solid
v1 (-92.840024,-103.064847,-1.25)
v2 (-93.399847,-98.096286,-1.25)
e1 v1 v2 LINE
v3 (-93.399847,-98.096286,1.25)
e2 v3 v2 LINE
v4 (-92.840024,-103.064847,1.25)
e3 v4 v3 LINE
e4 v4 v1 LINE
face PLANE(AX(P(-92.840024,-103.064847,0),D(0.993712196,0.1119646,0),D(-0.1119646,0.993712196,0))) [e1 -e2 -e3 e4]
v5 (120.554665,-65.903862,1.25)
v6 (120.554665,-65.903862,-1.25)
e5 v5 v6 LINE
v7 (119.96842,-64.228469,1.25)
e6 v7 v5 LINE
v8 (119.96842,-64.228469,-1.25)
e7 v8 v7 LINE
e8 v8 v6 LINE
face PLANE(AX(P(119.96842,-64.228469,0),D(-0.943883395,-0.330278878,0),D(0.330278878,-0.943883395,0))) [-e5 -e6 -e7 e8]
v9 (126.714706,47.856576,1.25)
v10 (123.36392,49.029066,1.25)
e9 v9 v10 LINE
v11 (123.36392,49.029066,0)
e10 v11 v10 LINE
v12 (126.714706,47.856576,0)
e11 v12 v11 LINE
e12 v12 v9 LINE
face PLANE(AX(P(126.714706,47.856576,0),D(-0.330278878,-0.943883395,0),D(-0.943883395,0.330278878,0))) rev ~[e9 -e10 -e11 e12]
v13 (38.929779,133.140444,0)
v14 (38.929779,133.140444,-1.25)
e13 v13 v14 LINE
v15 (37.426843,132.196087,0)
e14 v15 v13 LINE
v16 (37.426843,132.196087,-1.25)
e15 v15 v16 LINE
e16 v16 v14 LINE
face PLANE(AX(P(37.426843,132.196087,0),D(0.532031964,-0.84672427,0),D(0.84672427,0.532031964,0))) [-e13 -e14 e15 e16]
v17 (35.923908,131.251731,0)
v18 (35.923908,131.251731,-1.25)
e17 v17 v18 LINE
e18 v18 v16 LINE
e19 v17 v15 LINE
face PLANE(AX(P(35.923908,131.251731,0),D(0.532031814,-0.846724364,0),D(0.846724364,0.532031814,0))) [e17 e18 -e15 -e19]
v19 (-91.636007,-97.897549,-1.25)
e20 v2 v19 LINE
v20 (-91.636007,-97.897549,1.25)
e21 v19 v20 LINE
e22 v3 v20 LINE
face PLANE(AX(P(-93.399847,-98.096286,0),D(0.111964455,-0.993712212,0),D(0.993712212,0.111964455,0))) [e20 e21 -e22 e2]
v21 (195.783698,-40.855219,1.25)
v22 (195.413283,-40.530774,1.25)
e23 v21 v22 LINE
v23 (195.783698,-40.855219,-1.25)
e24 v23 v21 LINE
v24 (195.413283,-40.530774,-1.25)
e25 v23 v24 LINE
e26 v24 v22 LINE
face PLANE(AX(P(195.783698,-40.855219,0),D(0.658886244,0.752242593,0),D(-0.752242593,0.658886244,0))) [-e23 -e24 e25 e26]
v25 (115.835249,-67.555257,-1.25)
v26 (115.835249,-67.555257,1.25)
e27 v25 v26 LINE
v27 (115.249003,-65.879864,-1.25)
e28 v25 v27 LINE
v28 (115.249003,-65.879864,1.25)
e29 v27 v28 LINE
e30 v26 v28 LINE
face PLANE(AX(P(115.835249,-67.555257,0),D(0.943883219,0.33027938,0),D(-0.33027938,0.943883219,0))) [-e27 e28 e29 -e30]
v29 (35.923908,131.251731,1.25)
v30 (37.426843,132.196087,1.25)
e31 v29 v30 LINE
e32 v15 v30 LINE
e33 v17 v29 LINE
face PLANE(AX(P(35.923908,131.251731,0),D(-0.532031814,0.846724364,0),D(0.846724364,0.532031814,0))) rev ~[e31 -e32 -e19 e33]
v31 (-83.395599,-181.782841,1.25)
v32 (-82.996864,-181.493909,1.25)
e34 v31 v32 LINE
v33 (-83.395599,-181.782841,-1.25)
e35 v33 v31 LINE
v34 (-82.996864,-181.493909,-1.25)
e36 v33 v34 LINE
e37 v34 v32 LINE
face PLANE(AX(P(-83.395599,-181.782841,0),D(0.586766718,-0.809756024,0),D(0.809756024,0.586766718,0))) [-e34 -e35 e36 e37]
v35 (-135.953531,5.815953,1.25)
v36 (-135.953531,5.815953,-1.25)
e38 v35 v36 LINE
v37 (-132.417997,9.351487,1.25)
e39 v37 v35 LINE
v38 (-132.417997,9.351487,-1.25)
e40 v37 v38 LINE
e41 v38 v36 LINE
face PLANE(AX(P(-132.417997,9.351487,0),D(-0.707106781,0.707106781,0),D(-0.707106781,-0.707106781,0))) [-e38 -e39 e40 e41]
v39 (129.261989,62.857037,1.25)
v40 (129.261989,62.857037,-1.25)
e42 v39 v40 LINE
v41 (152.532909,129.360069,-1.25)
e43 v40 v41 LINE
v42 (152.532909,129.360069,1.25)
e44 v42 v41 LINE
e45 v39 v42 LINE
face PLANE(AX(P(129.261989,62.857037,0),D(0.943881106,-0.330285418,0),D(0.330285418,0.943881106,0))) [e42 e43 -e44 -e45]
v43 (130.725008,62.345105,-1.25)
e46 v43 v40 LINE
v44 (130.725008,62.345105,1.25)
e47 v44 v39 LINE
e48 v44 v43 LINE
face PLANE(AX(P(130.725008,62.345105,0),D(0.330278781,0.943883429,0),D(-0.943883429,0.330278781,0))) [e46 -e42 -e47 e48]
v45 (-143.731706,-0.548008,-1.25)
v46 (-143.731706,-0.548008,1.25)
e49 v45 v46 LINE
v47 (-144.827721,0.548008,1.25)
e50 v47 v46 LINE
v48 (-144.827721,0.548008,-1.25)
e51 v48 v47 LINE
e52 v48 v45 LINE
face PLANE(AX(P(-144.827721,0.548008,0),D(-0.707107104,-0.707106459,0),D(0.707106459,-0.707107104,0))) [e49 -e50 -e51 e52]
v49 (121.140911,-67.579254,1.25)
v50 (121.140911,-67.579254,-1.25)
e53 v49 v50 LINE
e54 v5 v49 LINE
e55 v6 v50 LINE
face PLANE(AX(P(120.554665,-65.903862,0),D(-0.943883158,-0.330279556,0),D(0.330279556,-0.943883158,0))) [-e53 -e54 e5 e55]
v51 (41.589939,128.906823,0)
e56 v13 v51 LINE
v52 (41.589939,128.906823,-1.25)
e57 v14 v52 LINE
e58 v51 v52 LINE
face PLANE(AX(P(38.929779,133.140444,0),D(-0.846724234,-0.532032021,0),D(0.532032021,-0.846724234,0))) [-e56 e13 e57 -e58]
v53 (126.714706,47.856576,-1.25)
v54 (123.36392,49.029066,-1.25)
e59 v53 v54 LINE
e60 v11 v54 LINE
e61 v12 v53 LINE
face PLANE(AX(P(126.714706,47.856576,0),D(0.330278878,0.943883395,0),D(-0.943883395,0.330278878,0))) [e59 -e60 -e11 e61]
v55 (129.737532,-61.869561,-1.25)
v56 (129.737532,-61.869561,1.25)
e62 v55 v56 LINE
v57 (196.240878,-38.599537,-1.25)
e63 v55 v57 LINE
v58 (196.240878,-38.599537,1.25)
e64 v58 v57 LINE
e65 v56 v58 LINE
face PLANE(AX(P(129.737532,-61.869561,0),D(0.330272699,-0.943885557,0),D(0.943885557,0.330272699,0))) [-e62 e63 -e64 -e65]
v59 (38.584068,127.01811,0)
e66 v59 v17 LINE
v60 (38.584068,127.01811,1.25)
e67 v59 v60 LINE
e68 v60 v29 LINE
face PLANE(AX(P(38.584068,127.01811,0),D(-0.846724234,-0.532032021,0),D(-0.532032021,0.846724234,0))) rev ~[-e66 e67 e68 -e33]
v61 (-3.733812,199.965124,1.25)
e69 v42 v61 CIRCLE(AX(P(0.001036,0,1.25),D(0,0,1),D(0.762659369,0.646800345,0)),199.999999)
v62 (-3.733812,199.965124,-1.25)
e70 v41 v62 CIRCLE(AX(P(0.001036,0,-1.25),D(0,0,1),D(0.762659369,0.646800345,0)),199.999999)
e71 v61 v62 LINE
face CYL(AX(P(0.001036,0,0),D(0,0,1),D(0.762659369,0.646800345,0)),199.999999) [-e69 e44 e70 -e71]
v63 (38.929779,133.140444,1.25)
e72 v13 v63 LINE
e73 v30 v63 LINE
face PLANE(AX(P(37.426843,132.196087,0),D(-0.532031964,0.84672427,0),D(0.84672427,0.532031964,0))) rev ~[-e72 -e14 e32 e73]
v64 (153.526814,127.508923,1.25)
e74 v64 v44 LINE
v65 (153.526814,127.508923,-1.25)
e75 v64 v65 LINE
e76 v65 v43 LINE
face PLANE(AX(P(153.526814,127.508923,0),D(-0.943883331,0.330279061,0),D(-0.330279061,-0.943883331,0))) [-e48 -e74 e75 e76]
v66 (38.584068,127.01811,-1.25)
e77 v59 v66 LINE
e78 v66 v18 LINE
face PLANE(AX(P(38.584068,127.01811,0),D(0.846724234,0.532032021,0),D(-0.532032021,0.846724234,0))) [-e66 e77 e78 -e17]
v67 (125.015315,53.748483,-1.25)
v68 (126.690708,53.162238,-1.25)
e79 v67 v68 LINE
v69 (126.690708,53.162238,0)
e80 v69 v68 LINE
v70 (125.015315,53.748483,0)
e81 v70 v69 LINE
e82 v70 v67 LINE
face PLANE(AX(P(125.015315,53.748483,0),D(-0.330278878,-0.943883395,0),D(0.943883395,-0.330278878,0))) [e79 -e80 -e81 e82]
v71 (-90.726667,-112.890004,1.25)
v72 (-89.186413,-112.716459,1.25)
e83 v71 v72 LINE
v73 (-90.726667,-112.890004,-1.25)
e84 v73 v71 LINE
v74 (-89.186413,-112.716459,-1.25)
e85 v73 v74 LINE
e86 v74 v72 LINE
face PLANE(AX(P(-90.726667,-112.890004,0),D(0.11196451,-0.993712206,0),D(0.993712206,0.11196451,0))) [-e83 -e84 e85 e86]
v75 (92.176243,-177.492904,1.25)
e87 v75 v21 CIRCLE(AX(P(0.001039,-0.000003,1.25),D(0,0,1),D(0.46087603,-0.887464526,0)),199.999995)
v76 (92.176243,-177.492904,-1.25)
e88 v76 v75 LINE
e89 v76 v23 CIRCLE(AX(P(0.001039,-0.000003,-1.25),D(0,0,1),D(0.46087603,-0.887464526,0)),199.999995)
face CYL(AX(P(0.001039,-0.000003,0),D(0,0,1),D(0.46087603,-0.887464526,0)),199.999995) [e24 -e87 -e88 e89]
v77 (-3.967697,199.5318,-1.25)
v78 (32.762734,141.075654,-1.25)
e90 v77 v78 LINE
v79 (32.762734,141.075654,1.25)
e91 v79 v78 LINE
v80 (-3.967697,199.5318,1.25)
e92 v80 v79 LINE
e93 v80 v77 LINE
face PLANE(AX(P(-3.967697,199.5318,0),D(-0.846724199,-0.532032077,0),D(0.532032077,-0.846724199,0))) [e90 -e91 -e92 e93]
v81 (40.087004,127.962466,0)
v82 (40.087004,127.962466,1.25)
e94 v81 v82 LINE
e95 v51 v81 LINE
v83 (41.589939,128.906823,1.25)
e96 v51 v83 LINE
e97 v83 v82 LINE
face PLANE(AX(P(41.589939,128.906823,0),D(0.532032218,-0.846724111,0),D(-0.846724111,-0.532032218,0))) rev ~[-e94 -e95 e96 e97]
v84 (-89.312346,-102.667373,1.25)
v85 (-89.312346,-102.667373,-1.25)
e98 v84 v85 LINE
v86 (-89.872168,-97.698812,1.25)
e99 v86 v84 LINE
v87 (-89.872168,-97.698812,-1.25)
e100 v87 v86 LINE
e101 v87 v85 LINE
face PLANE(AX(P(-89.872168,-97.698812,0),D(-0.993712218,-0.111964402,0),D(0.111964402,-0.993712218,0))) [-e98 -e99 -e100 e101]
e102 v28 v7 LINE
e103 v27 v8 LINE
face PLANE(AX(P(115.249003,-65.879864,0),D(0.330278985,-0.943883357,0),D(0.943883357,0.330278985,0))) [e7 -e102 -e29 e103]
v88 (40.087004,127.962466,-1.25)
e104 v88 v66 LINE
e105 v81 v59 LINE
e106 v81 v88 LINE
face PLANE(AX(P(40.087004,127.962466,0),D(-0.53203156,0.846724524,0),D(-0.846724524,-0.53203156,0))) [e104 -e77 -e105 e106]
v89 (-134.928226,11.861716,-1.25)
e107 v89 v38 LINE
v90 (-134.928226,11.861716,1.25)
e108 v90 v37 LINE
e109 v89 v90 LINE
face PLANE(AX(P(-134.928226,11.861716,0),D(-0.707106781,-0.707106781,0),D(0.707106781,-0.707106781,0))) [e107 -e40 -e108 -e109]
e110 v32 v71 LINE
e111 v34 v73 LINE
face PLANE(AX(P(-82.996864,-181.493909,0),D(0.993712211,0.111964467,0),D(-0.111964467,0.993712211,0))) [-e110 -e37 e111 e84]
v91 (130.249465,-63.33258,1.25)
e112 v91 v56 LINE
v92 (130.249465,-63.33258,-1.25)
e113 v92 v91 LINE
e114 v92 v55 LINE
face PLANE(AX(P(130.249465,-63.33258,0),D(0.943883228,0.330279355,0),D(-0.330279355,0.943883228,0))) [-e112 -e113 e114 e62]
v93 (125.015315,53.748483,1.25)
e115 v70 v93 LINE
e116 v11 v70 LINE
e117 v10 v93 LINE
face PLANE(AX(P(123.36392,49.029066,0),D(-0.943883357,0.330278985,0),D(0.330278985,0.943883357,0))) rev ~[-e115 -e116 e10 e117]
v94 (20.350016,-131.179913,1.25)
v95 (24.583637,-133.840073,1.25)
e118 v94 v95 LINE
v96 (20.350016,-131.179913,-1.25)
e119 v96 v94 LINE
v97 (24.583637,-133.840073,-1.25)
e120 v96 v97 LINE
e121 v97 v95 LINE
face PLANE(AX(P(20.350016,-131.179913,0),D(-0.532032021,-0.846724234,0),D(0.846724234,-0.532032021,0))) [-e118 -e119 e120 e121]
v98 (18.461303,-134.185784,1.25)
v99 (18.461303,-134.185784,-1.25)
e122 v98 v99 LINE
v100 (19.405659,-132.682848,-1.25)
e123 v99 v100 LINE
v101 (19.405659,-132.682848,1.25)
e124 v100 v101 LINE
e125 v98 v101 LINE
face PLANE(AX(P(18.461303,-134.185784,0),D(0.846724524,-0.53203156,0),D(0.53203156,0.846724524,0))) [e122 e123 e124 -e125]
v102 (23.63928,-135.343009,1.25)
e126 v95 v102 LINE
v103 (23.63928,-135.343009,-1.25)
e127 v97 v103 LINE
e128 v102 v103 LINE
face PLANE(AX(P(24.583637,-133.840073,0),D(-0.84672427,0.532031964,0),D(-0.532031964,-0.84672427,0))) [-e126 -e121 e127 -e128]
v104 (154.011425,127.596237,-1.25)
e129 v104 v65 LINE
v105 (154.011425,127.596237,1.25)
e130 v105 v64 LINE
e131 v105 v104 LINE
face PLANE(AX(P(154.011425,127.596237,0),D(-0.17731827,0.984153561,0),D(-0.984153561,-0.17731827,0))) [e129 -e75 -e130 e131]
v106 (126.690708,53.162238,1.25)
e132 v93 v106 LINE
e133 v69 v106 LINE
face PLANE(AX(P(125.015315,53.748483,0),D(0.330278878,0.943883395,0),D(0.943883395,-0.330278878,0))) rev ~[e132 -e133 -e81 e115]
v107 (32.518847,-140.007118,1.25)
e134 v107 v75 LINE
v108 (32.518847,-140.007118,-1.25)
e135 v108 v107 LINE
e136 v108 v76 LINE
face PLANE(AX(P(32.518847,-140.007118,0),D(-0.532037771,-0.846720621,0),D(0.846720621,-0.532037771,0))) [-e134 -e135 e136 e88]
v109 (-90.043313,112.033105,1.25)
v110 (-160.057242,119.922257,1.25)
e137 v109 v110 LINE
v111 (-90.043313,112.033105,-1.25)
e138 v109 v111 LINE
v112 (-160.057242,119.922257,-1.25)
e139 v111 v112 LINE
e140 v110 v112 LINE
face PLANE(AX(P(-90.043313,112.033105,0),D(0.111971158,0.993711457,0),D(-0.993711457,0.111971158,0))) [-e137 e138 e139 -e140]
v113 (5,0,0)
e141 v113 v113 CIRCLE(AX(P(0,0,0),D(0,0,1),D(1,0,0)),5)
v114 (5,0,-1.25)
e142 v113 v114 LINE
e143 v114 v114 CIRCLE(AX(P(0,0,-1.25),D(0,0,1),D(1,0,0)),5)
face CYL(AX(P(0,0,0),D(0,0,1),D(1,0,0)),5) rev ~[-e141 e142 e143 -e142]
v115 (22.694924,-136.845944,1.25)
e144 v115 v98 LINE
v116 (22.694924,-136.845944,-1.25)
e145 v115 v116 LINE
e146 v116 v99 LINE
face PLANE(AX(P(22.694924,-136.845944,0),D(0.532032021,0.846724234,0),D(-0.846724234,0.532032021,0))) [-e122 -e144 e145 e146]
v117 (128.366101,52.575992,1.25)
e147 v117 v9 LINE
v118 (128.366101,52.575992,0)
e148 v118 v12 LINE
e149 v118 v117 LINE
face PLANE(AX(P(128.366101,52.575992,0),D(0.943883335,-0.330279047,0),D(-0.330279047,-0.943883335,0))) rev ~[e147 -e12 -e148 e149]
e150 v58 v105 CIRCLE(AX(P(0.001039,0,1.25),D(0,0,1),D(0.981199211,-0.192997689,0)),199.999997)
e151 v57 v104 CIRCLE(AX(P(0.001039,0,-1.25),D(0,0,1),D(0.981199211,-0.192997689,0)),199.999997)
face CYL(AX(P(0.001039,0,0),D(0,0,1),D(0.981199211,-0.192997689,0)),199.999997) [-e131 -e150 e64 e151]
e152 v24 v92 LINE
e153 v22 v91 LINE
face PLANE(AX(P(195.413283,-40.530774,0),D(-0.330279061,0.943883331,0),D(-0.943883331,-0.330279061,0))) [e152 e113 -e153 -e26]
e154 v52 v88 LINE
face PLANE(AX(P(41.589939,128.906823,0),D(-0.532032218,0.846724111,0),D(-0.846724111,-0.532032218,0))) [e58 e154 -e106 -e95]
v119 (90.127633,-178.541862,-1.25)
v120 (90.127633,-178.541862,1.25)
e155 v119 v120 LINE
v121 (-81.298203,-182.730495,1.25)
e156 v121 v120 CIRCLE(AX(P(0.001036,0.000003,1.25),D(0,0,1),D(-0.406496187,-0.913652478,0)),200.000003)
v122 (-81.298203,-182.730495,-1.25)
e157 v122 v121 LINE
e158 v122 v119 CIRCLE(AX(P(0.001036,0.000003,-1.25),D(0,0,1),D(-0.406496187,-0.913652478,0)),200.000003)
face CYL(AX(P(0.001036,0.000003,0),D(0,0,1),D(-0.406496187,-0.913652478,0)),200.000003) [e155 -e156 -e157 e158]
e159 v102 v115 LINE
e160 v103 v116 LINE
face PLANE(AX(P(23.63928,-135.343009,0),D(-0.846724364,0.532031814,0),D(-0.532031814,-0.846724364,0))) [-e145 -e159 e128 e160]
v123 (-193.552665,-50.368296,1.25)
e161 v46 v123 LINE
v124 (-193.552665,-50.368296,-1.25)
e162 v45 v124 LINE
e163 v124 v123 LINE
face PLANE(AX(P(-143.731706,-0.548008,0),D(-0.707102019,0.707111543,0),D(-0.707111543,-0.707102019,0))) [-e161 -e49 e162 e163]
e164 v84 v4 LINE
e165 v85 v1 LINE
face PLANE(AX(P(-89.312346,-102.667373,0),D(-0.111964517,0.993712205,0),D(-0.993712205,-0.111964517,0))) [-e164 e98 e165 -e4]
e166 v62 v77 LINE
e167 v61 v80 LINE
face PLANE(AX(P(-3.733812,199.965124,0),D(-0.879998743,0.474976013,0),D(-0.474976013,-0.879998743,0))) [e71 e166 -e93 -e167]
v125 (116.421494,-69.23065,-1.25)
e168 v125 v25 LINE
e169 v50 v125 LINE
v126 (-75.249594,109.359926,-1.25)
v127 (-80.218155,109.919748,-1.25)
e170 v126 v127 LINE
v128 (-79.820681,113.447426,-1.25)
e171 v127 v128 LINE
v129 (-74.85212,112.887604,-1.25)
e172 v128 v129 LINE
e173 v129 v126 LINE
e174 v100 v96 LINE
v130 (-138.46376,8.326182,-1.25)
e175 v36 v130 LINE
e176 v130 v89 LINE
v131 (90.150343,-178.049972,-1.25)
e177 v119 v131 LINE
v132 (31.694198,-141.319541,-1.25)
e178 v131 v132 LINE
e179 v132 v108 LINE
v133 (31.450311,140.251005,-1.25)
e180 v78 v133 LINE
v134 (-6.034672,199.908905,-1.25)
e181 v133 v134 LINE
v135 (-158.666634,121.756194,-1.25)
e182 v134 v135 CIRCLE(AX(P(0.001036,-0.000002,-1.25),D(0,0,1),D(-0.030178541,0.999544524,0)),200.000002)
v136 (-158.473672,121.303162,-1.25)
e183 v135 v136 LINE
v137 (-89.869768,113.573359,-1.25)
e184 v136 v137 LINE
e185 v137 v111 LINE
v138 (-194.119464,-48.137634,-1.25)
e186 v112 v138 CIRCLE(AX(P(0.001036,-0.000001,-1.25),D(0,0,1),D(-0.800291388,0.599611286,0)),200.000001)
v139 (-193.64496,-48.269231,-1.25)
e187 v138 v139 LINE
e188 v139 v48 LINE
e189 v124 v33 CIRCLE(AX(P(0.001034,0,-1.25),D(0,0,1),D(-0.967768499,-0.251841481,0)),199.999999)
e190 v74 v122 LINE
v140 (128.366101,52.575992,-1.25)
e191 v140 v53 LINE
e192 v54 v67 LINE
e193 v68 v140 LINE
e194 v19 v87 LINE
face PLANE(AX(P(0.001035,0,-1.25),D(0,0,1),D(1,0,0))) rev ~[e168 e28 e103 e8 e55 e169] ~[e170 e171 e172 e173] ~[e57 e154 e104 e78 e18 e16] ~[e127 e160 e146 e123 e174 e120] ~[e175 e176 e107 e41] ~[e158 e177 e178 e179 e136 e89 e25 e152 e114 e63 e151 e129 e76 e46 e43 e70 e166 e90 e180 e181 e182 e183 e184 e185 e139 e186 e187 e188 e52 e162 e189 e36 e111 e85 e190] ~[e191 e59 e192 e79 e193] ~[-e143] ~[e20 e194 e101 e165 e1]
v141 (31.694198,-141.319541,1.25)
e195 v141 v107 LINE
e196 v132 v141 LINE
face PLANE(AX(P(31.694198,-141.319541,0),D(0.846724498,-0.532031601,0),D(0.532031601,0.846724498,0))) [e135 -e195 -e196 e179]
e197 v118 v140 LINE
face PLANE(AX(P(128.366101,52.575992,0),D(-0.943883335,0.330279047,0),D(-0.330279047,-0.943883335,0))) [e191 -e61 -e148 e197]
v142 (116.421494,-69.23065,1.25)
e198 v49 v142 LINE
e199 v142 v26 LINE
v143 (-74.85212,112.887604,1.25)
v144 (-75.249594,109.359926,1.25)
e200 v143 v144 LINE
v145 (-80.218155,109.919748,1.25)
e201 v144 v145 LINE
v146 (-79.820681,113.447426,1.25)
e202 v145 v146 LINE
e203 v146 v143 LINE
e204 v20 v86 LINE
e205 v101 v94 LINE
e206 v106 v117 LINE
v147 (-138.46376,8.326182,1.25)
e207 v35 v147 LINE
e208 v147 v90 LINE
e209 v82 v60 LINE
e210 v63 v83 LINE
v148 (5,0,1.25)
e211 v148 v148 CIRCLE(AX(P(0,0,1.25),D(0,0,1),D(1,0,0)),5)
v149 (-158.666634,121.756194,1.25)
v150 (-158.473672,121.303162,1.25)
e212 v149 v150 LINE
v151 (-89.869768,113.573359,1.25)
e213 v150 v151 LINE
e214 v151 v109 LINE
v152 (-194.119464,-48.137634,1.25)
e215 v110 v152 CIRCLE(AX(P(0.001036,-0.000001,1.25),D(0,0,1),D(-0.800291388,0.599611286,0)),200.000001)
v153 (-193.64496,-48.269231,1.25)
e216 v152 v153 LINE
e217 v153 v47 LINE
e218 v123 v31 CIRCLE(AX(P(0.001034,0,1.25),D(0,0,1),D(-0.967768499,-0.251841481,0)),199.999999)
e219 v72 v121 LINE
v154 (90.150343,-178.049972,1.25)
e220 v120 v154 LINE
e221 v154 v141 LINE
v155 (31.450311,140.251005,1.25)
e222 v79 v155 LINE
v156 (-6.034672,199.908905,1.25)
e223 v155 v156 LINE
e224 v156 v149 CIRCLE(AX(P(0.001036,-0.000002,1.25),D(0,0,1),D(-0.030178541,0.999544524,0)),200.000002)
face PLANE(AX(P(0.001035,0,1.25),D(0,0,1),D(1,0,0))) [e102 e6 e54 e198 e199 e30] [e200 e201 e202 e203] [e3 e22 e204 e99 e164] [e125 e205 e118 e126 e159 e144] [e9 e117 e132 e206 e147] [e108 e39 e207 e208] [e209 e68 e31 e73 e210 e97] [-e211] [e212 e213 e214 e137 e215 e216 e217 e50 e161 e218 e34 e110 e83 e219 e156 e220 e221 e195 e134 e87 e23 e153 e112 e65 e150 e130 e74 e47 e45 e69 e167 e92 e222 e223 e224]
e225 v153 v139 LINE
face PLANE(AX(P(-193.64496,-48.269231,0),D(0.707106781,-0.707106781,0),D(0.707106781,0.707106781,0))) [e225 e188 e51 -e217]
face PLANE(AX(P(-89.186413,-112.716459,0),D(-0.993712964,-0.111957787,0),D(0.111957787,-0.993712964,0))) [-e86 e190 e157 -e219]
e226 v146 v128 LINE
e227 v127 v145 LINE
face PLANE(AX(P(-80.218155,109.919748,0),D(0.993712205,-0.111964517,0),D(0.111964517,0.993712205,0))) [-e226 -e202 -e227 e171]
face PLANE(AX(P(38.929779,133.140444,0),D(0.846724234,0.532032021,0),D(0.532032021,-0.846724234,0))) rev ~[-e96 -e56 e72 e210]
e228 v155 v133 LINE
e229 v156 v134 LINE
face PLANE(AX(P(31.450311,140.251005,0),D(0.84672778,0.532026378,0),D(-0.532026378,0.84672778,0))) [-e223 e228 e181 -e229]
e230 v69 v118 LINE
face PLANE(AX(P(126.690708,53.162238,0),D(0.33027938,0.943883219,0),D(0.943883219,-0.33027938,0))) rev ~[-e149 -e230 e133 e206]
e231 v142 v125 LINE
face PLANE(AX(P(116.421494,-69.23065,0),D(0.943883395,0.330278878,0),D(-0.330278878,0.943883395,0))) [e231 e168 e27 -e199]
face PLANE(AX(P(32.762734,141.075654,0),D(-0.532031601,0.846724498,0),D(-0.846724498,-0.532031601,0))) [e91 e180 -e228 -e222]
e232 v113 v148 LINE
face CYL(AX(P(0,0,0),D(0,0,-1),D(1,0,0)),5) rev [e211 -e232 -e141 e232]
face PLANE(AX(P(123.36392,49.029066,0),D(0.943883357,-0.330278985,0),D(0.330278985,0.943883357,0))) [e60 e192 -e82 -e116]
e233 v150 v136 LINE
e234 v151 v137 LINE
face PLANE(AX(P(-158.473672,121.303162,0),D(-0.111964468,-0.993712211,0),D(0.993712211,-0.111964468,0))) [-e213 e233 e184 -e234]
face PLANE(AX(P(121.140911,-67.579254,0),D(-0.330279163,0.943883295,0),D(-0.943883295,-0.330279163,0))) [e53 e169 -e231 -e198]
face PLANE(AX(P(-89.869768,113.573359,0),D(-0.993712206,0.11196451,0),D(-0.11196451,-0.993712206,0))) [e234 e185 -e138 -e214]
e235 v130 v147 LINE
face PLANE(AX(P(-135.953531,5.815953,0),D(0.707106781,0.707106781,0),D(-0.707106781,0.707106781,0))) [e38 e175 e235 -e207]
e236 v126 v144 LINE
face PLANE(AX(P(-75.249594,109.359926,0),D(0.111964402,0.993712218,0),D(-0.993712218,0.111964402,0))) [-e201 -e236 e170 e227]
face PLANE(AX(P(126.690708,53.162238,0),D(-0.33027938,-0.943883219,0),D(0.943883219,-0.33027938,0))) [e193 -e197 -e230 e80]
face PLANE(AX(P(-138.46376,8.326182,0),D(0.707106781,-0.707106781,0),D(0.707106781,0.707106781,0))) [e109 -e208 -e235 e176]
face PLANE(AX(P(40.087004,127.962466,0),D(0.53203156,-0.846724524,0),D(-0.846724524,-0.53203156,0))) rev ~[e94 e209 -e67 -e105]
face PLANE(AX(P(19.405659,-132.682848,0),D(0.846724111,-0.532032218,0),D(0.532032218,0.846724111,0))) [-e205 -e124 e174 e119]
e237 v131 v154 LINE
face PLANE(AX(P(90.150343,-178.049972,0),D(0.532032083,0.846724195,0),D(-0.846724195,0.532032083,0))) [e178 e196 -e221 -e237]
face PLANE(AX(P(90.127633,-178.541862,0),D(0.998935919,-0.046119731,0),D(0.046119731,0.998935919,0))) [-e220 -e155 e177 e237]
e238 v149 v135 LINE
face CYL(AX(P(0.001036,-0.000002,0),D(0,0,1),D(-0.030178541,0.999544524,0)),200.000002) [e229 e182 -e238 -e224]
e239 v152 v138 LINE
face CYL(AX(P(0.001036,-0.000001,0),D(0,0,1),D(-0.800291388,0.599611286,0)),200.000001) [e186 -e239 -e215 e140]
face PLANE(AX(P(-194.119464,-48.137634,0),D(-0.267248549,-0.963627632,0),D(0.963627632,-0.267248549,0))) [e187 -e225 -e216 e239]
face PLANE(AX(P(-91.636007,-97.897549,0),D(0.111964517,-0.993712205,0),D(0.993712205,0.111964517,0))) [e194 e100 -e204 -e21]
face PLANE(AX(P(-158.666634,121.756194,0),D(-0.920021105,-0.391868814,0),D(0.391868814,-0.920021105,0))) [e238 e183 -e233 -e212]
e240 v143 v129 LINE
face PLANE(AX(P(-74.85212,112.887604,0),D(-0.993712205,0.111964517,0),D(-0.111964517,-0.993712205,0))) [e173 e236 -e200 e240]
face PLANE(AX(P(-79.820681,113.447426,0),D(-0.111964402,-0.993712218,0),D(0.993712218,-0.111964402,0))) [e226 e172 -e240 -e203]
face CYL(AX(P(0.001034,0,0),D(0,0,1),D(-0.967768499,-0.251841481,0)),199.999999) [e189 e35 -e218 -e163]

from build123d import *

# Parameters (mm, degrees)
F0_R          = 5
F1_DEPTH      = 1.25
F1_DEPTH_BACK = 1.25


with BuildPart() as f1:
    # F0 (on Top) → F1 (new body, two sides)
    with BuildSketch(Plane.XY) as f1_sk:
        with BuildLine():
            Line((-193.64496, -48.269231), (-144.827721, 0.548008))
            Line((-144.827721, 0.548008), (-143.731706, -0.548008))
            Line((-143.731706, -0.548008), (-193.552665, -50.368296))
            ThreePointArc((-193.552665, -50.368296), (-153.272634, -128.48028), (-83.395599, -181.782841))
            Line((-83.395599, -181.782841), (-82.996864, -181.493909))
            Line((-82.996864, -181.493909), (-90.726667, -112.890004))
            Line((-90.726667, -112.890004), (-89.186413, -112.716459))
            Line((-89.186413, -112.716459), (-81.298203, -182.730495))
            ThreePointArc((-81.298203, -182.730495), (4.886394, -199.940324), (90.127633, -178.541862))
            Line((90.127633, -178.541862), (90.150343, -178.049972))
            Line((90.150343, -178.049972), (31.694198, -141.319541))
            Line((31.694198, -141.319541), (32.518847, -140.007118))
            Line((32.518847, -140.007118), (92.176243, -177.492904))
            ThreePointArc((92.176243, -177.492904), (159.366647, -120.841226), (195.783698, -40.855219))
            Line((195.783698, -40.855219), (195.413283, -40.530774))
            Line((195.413283, -40.530774), (130.249465, -63.33258))
            Line((130.249465, -63.33258), (129.737532, -61.869561))
            Line((129.737532, -61.869561), (196.240878, -38.599537))
            ThreePointArc((196.240878, -38.599537), (193.841344, 49.25378), (154.011425, 127.596237))
            Line((154.011425, 127.596237), (153.526814, 127.508923))
            Line((153.526814, 127.508923), (130.725008, 62.345105))
            Line((130.725008, 62.345105), (129.261989, 62.857037))
            Line((129.261989, 62.857037), (152.532909, 129.360069))
            ThreePointArc((152.532909, 129.360069), (82.350335, 182.259685), (-3.733812, 199.965124))
            Line((-3.733812, 199.965124), (-3.967697, 199.5318))
            Line((-3.967697, 199.5318), (32.762734, 141.075654))
            Line((32.762734, 141.075654), (31.450311, 140.251005))
            Line((31.450311, 140.251005), (-6.034672, 199.908905))
            ThreePointArc((-6.034672, 199.908905), (-91.151376, 178.02033), (-158.666634, 121.756194))
            Line((-158.666634, 121.756194), (-158.473672, 121.303162))
            Line((-158.473672, 121.303162), (-89.869768, 113.573359))
            Line((-89.869768, 113.573359), (-90.043313, 112.033105))
            Line((-90.043313, 112.033105), (-160.057242, 119.922257))
            ThreePointArc((-160.057242, 119.922257), (-196.013462, 39.728035), (-194.119464, -48.137634))
            Line((-194.119464, -48.137634), (-193.64496, -48.269231))
        make_face()
        Polygon((-91.636007, -97.897549), (-89.872168, -97.698812), (-89.312346, -102.667373), (-91.076185, -102.86611), (-92.840024, -103.064847), (-93.399847, -98.096286), align=None, mode=Mode.SUBTRACT)
        Circle(F0_R, mode=Mode.SUBTRACT)
        Polygon((19.405659, -132.682848), (20.350016, -131.179913), (24.583637, -133.840073), (23.63928, -135.343009), (22.694924, -136.845944), (18.461303, -134.185784), align=None, mode=Mode.SUBTRACT)
        Polygon((115.835249, -67.555257), (115.249003, -65.879864), (119.96842, -64.228469), (120.554665, -65.903862), (121.140911, -67.579254), (116.421494, -69.23065), align=None, mode=Mode.SUBTRACT)
        Polygon((-137.208646, 7.071068), (-138.46376, 8.326182), (-134.928226, 11.861716), (-133.673112, 10.606602), (-132.417997, 9.351487), (-135.953531, 5.815953), align=None, mode=Mode.SUBTRACT)
        Polygon((-75.050857, 111.123765), (-75.249594, 109.359926), (-80.218155, 109.919748), (-80.019418, 111.683587), (-79.820681, 113.447426), (-74.85212, 112.887604), align=None, mode=Mode.SUBTRACT)
        Polygon((125.039313, 48.442821), (123.36392, 49.029066), (125.015315, 53.748483), (126.690708, 53.162238), (128.366101, 52.575992), (126.714706, 47.856576), align=None, mode=Mode.SUBTRACT)
        Polygon((40.087004, 127.962466), (38.584068, 127.01811), (35.923908, 131.251731), (37.426843, 132.196087), (38.929779, 133.140444), (41.589939, 128.906823), align=None, mode=Mode.SUBTRACT)
    extrude(amount=F1_DEPTH)
    extrude(f1_sk.sketch, amount=-F1_DEPTH_BACK)


solid = f1.part
